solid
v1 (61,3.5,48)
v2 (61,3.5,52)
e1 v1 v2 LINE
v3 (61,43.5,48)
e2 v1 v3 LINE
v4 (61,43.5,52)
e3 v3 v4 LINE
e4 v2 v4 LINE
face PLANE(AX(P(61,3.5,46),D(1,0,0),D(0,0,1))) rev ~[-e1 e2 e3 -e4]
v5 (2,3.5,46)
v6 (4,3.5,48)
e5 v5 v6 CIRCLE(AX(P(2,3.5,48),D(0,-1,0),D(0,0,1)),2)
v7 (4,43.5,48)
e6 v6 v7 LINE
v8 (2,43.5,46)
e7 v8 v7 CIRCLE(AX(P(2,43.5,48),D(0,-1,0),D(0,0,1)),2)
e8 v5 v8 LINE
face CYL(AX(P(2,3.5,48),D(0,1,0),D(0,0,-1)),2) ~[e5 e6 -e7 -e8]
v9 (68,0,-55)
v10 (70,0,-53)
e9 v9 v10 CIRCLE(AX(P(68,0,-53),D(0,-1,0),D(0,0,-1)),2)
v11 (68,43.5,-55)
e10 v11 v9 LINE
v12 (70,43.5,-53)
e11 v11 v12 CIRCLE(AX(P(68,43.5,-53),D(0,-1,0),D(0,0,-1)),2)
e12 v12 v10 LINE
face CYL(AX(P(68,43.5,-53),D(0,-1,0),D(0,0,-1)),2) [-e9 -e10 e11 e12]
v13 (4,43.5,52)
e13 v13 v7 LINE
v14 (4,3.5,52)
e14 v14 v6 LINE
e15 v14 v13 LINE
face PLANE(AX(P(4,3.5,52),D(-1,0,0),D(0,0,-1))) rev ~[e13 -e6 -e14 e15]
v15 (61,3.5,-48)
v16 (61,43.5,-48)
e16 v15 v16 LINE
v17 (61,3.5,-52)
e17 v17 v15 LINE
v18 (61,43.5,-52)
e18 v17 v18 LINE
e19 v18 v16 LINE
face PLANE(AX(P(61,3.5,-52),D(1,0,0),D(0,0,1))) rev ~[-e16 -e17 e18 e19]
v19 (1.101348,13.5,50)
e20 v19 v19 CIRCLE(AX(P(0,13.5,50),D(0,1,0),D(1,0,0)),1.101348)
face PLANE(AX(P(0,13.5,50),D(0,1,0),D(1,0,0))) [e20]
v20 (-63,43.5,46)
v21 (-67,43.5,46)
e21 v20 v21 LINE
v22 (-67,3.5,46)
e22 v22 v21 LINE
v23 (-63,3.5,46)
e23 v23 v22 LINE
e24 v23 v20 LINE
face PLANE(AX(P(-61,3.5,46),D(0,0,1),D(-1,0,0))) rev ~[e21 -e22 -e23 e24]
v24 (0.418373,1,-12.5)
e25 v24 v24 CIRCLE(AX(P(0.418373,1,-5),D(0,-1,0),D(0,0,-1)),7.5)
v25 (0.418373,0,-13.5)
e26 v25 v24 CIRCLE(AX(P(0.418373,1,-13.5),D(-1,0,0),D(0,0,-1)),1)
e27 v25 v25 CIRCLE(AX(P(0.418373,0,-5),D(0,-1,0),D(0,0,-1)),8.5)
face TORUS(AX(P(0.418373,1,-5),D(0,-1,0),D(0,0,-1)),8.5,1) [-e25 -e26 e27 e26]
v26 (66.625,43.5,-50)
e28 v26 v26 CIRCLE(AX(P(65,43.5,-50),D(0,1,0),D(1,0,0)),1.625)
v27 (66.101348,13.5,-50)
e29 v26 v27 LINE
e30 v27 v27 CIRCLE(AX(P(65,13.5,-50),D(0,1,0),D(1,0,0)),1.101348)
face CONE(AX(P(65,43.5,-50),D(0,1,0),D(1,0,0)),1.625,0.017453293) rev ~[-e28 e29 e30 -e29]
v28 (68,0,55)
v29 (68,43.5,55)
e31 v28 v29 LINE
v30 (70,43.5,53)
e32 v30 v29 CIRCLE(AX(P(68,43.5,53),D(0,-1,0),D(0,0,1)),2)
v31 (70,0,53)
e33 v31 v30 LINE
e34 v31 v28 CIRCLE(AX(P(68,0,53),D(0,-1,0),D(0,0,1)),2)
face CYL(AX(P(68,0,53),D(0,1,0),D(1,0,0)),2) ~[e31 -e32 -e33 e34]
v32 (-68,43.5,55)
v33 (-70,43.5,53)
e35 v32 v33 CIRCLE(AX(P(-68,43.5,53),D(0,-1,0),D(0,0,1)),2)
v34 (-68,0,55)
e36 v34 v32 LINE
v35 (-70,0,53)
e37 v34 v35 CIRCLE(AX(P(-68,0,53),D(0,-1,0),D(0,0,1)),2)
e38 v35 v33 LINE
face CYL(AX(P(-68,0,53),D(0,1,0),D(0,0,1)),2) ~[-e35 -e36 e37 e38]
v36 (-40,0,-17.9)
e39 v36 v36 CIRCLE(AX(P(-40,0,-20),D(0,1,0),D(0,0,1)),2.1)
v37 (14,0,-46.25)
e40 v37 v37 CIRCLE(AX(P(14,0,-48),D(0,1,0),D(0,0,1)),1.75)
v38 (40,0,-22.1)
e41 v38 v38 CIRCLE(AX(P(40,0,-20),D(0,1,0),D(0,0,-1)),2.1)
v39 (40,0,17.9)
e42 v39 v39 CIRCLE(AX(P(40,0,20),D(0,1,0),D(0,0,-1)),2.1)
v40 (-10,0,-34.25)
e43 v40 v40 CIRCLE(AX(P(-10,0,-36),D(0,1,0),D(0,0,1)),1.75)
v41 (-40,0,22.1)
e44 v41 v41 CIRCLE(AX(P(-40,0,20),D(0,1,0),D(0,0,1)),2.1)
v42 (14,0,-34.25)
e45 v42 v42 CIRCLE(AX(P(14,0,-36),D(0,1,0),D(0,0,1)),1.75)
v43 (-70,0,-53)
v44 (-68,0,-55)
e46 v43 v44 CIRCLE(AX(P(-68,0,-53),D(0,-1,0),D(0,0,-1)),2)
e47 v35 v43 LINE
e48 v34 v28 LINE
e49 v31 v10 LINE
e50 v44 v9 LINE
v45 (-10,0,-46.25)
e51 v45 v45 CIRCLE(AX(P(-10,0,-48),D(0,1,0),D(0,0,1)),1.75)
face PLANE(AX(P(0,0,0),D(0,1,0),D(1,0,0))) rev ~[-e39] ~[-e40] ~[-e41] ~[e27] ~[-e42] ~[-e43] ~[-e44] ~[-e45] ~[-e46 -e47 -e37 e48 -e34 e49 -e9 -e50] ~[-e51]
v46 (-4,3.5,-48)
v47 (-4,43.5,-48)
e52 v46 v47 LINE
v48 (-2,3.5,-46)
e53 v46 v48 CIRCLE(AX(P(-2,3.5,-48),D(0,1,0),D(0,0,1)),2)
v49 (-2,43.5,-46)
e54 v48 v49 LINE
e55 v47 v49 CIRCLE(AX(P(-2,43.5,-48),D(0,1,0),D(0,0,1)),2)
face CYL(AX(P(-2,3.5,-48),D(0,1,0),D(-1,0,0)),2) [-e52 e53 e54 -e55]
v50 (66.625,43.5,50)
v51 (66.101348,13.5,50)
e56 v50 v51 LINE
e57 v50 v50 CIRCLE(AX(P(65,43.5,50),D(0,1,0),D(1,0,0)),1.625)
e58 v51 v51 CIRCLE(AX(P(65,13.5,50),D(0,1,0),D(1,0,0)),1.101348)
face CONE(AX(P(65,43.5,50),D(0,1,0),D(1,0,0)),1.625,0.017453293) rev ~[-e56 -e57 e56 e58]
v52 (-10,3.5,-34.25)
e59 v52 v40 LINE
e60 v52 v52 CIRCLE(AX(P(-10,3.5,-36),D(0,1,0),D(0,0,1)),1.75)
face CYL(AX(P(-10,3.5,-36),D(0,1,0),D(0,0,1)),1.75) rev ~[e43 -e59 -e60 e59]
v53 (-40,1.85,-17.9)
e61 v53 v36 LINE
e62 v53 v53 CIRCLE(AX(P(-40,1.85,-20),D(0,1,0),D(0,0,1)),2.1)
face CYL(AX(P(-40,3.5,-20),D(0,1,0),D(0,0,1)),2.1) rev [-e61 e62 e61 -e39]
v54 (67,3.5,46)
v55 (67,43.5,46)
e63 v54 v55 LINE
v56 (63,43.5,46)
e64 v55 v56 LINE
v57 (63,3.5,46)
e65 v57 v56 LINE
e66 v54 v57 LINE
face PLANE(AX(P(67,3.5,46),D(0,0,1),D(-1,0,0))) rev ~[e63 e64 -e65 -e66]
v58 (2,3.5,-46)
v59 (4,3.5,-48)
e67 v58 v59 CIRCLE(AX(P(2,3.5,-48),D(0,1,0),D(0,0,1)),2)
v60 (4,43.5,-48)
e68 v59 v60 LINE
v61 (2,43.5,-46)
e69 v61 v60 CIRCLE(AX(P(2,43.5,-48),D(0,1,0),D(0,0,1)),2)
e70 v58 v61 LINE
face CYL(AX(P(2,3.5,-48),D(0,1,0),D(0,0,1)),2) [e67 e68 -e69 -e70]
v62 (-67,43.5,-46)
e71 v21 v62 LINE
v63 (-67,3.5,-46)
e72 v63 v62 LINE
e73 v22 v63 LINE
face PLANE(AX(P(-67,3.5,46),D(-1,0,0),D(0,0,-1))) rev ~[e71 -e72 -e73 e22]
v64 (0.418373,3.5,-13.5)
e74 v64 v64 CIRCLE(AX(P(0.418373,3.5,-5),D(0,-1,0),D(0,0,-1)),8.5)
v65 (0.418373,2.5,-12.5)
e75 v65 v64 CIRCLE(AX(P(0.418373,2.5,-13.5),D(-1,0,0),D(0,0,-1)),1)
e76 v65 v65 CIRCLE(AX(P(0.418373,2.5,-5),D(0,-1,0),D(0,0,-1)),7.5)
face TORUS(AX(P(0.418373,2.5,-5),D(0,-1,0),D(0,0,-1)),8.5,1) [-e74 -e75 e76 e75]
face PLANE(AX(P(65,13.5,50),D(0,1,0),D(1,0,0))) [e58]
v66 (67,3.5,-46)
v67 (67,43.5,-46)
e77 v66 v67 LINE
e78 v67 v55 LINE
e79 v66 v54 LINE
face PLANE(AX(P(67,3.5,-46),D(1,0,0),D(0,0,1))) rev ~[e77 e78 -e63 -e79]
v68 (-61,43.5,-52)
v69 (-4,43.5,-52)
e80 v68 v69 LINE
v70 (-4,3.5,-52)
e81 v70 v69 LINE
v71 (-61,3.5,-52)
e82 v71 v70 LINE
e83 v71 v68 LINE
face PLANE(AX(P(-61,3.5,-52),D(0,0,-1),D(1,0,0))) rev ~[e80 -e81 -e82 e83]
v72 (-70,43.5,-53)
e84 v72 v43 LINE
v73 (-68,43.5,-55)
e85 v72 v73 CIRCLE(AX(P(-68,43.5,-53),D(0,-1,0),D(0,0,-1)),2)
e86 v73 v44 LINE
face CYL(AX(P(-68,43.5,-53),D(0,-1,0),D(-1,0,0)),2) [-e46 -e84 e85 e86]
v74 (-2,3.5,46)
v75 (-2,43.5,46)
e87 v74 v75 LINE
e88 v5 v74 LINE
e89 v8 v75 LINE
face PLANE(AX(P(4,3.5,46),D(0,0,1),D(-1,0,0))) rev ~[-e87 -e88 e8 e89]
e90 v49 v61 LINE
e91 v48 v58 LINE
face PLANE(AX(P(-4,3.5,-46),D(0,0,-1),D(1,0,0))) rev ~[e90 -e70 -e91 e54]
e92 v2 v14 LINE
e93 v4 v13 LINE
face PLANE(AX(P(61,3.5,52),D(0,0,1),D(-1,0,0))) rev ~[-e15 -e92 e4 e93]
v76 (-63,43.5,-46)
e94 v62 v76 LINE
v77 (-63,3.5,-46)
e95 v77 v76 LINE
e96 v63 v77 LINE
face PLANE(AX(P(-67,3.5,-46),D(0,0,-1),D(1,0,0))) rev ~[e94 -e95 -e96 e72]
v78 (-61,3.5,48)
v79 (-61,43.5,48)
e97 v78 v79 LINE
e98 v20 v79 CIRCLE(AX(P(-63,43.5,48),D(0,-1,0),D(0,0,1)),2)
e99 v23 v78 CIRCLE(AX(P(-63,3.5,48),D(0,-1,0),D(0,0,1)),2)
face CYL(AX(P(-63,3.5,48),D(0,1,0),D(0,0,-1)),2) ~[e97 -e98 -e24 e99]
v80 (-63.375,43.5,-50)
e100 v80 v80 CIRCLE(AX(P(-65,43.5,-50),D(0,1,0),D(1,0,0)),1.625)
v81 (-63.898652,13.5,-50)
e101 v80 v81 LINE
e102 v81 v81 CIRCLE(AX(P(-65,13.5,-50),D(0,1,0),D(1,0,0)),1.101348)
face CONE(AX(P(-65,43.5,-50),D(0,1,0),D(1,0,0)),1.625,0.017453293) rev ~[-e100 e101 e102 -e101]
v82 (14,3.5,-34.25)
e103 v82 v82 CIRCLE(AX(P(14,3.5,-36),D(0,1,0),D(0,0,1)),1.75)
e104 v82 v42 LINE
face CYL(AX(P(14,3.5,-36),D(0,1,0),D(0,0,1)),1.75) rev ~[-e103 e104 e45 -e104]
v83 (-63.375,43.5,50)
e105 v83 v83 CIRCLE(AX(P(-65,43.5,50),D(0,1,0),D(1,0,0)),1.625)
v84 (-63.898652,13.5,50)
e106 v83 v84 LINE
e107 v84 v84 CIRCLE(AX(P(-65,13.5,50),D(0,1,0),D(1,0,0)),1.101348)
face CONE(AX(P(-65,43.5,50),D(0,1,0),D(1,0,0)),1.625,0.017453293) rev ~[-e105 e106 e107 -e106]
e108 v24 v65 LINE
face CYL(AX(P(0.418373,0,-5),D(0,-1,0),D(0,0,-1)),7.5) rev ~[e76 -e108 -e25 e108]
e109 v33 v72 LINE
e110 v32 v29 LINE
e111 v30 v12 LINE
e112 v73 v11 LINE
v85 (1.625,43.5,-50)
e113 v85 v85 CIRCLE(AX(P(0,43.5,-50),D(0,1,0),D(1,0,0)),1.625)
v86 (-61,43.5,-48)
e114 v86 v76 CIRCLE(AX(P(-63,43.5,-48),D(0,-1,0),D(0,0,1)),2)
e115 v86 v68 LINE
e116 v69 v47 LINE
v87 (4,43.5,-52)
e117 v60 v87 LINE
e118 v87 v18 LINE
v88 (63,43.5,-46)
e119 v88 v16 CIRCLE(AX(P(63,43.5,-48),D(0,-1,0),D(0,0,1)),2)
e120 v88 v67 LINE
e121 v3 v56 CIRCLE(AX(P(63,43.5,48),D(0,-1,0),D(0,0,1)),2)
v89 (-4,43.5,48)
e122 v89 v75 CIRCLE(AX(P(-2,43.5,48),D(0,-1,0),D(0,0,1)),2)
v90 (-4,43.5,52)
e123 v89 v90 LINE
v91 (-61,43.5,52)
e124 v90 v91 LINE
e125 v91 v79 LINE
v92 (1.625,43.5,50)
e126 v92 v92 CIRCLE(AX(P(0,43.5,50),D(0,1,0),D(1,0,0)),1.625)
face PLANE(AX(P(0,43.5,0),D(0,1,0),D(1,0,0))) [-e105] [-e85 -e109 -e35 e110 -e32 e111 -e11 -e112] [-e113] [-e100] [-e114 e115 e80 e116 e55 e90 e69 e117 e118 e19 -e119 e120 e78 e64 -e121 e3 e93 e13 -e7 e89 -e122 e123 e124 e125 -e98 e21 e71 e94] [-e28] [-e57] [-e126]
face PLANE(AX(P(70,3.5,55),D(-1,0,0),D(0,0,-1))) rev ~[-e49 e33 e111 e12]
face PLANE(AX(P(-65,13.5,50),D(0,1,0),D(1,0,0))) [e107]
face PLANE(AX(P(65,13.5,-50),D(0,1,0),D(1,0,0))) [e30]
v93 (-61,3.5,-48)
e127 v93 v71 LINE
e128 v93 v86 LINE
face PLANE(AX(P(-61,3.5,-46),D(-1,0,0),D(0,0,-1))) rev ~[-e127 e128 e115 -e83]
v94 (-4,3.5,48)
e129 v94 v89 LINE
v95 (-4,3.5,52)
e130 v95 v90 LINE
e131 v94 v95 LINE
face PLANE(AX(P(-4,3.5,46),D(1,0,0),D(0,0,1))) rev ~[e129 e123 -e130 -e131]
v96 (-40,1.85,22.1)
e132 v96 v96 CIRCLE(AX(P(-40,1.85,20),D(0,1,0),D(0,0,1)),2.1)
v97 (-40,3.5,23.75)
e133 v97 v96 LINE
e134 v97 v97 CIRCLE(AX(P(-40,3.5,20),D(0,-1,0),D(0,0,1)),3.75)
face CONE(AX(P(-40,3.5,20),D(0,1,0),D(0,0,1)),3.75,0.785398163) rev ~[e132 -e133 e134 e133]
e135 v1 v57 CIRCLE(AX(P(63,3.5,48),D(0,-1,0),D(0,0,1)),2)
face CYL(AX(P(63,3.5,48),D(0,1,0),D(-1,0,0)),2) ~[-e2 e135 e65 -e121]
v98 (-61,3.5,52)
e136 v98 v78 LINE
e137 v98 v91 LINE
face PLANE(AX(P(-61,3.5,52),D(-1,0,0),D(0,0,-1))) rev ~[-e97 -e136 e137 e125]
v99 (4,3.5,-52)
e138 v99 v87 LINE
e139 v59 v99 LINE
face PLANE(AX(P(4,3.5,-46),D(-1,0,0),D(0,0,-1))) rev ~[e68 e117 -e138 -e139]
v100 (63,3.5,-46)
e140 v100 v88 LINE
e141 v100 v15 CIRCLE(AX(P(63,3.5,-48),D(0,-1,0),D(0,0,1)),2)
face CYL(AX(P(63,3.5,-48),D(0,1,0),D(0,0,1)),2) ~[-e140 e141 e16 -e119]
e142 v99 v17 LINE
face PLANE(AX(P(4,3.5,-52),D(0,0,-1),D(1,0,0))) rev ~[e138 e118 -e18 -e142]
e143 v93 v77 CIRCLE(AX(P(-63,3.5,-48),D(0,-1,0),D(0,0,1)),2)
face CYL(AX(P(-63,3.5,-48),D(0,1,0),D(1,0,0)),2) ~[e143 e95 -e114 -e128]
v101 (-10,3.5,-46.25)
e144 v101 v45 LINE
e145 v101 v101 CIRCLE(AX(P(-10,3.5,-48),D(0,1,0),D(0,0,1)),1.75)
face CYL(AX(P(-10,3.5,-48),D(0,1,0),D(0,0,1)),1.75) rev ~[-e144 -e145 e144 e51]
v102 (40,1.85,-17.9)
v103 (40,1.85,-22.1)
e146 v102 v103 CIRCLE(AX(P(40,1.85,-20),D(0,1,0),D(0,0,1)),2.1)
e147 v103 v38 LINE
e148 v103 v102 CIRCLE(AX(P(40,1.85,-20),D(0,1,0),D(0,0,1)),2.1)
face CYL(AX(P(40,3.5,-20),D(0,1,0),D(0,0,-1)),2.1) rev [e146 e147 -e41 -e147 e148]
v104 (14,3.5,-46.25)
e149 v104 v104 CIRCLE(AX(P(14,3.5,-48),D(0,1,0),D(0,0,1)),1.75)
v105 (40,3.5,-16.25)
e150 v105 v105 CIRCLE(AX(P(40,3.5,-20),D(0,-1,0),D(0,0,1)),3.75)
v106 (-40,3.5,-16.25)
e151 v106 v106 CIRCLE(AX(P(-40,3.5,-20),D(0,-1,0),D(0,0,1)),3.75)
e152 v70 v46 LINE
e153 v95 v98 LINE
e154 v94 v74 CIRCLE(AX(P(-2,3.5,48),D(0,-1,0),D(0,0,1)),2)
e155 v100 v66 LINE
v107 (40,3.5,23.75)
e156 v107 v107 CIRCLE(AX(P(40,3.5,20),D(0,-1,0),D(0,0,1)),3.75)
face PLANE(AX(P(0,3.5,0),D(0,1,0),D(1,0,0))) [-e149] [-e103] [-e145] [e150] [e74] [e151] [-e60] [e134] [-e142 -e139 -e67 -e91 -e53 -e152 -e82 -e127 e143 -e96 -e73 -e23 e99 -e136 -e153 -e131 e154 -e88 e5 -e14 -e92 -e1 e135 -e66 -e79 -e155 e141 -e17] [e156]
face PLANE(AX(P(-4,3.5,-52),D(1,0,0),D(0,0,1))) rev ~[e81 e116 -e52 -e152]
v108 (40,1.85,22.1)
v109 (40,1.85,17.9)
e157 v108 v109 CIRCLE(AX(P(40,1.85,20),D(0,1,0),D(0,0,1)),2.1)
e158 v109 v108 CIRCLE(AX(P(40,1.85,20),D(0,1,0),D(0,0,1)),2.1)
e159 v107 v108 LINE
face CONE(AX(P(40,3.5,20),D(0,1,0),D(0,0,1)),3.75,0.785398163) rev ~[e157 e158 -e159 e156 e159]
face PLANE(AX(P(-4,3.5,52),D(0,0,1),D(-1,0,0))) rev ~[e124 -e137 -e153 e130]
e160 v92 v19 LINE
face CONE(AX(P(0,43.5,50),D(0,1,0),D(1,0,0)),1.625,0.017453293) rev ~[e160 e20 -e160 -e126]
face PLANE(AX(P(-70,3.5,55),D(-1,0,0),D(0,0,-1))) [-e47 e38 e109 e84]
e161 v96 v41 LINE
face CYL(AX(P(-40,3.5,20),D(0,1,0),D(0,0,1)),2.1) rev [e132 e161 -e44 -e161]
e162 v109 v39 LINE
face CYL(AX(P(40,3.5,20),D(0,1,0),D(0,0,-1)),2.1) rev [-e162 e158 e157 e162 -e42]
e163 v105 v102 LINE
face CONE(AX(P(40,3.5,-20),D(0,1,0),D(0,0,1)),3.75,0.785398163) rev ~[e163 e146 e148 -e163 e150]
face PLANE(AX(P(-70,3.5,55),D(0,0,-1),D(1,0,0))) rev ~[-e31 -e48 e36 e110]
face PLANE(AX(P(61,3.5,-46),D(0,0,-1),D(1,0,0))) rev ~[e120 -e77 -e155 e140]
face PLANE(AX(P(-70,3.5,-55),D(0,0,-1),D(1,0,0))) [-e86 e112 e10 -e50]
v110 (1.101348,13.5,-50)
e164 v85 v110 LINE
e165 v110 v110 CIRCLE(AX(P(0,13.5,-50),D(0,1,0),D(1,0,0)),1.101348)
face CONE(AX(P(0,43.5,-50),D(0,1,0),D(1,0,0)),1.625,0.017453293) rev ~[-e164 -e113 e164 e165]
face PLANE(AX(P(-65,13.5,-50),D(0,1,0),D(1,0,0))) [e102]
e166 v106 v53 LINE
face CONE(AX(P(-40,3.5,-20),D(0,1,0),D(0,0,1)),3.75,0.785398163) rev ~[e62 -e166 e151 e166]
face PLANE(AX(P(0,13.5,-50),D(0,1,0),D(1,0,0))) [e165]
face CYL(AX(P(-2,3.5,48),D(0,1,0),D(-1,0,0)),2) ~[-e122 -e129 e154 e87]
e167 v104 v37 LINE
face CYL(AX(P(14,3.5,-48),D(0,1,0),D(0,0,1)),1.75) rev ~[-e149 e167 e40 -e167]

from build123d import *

# Parameters (mm, degrees)
SKETCH1_W                             = 140
SKETCH1_H                             = 110
BOTTOM_DEPTH                          = 3.5
SKETCH3_W                             = 140
SKETCH3_H                             = 110
WALL_DEPTH                            = 40
SKETCH4_R                             = 1.625
TOP_PLATE_SCREW_HOLES_DEPTH           = 30
TOP_PLATE_SCREW_HOLES_DRAFT           = -1
TOP_PLATE_SCREW_HOLES_PROFILE_2_DEPTH = 30
TOP_PLATE_SCREW_HOLES_PROFILE_2_DRAFT = -1
TOP_PLATE_SCREW_HOLES_PROFILE_3_DEPTH = 30
TOP_PLATE_SCREW_HOLES_PROFILE_3_DRAFT = -1
TOP_PLATE_SCREW_HOLES_PROFILE_4_DEPTH = 30
TOP_PLATE_SCREW_HOLES_PROFILE_4_DRAFT = -1
TOP_PLATE_SCREW_HOLES_PROFILE_5_DEPTH = 30
TOP_PLATE_SCREW_HOLES_PROFILE_5_DRAFT = -1
TOP_PLATE_SCREW_HOLES_PROFILE_6_DEPTH = 30
TOP_PLATE_SCREW_HOLES_PROFILE_6_DRAFT = -1
FILLET14_R                            = 2
FILLET13_R                            = 2
FILLET12_R                            = 2
FILLET11_R                            = 2
FILLET1_R                             = 2
FILLET2_R                             = 2
FILLET3_R                             = 2
FILLET4_R                             = 2
FILLET5_R                             = 2
FILLET6_R                             = 2
FILLET7_R                             = 2
FILLET8_R                             = 2
M4_MOUNT_R                            = 2.1
M4_MOUNT_CUT_DEPTH                    = 98.59610648
SKETCH7_R                             = 7.5
USB_CABEL_CUT_DEPTH                   = 100.082036717
FILLET9_R                             = 1
FILLET10_R                            = 1
SKETCH8_R                             = 1.75
CUT_EXTRUDE4_DEPTH                    = 10


with BuildPart() as part:
    # Sketch1 → Bottom (new body)
    with BuildSketch(Plane(origin=(0, 0, 0), x_dir=(1, 0, 0), z_dir=(0, 1, 0))):
        Rectangle(SKETCH1_W, SKETCH1_H)
    extrude(amount=BOTTOM_DEPTH)

    # Sketch3 → Wall (add)
    with BuildSketch(Plane(origin=(0, 3.5, 0), x_dir=(1, 0, 0), z_dir=(0, 1, 0))):
        Rectangle(SKETCH3_W, SKETCH3_H)
        Polygon((-61, 52), (-4, 52), (-4, 46), (4, 46), (4, 52), (61, 52), (61, 46), (67, 46), (67, -46), (61, -46), (61, -52), (4, -52), (4, -46), (-4, -46), (-4, -52), (-61, -52), (-61, -46), (-67, -46), (-67, 46), (-61, 46), align=None, mode=Mode.SUBTRACT)
    extrude(amount=WALL_DEPTH)


with BuildPart() as top_plate_screw_holes_tool:
    # Sketch4 → Top Plate Screw Holes (with draft: the straight prism first)
    with BuildSketch(Plane(origin=(0, 43.5, 0), x_dir=(1, 0, 0), z_dir=(0, 1, 0))):
        with Locations((-65, 50)):
            Circle(SKETCH4_R)
    extrude(amount=-TOP_PLATE_SCREW_HOLES_DEPTH)
    # Top Plate Screw Holes: the draft: its side faces are tilted about the plane it starts from
    top_plate_screw_holes_sides = [top_plate_screw_holes_tool.faces().sort_by_distance(p)[0] for p in [
        (-66.625, 28.5, -50),
    ]]
    draft(top_plate_screw_holes_sides, Plane(origin=(0, 43.5, 0), x_dir=(1, 0, 0), z_dir=(0, 1, 0)), TOP_PLATE_SCREW_HOLES_DRAFT)


with BuildPart() as part_1:
    add(part.part)

    # Top Plate Screw Holes: cut by top_plate_screw_holes_tool
    add(top_plate_screw_holes_tool.part, mode=Mode.SUBTRACT)


with BuildPart() as top_plate_screw_holes_profile_2_tool:
    # Sketch4 → Top Plate Screw Holes profile 2 (with draft: the straight prism first)
    with BuildSketch(Plane(origin=(0, 43.5, 0), x_dir=(1, 0, 0), z_dir=(0, 1, 0))):
        with Locations((65, 50)):
            Circle(SKETCH4_R)
    extrude(amount=-TOP_PLATE_SCREW_HOLES_PROFILE_2_DEPTH)
    # Top Plate Screw Holes profile 2: the draft: its side faces are tilted about the plane it starts from
    top_plate_screw_holes_profile_2_sides = [top_plate_screw_holes_profile_2_tool.faces().sort_by_distance(p)[0] for p in [
        (63.375, 28.5, -50),
    ]]
    draft(top_plate_screw_holes_profile_2_sides, Plane(origin=(0, 43.5, 0), x_dir=(1, 0, 0), z_dir=(0, 1, 0)), TOP_PLATE_SCREW_HOLES_PROFILE_2_DRAFT)


with BuildPart() as part_2:
    add(part_1.part)

    # Top Plate Screw Holes profile 2: cut by top_plate_screw_holes_profile_2_tool
    add(top_plate_screw_holes_profile_2_tool.part, mode=Mode.SUBTRACT)


with BuildPart() as top_plate_screw_holes_profile_3_tool:
    # Sketch4 → Top Plate Screw Holes profile 3 (with draft: the straight prism first)
    with BuildSketch(Plane(origin=(0, 43.5, 0), x_dir=(1, 0, 0), z_dir=(0, 1, 0))):
        with Locations((65, -50)):
            Circle(SKETCH4_R)
    extrude(amount=-TOP_PLATE_SCREW_HOLES_PROFILE_3_DEPTH)
    # Top Plate Screw Holes profile 3: the draft: its side faces are tilted about the plane it starts from
    top_plate_screw_holes_profile_3_sides = [top_plate_screw_holes_profile_3_tool.faces().sort_by_distance(p)[0] for p in [
        (63.375, 28.5, 50),
    ]]
    draft(top_plate_screw_holes_profile_3_sides, Plane(origin=(0, 43.5, 0), x_dir=(1, 0, 0), z_dir=(0, 1, 0)), TOP_PLATE_SCREW_HOLES_PROFILE_3_DRAFT)


with BuildPart() as part_3:
    add(part_2.part)

    # Top Plate Screw Holes profile 3: cut by top_plate_screw_holes_profile_3_tool
    add(top_plate_screw_holes_profile_3_tool.part, mode=Mode.SUBTRACT)


with BuildPart() as top_plate_screw_holes_profile_4_tool:
    # Sketch4 → Top Plate Screw Holes profile 4 (with draft: the straight prism first)
    with BuildSketch(Plane(origin=(0, 43.5, 0), x_dir=(1, 0, 0), z_dir=(0, 1, 0))):
        with Locations((-65, -50)):
            Circle(SKETCH4_R)
    extrude(amount=-TOP_PLATE_SCREW_HOLES_PROFILE_4_DEPTH)
    # Top Plate Screw Holes profile 4: the draft: its side faces are tilted about the plane it starts from
    top_plate_screw_holes_profile_4_sides = [top_plate_screw_holes_profile_4_tool.faces().sort_by_distance(p)[0] for p in [
        (-66.625, 28.5, 50),
    ]]
    draft(top_plate_screw_holes_profile_4_sides, Plane(origin=(0, 43.5, 0), x_dir=(1, 0, 0), z_dir=(0, 1, 0)), TOP_PLATE_SCREW_HOLES_PROFILE_4_DRAFT)


with BuildPart() as part_4:
    add(part_3.part)

    # Top Plate Screw Holes profile 4: cut by top_plate_screw_holes_profile_4_tool
    add(top_plate_screw_holes_profile_4_tool.part, mode=Mode.SUBTRACT)


with BuildPart() as top_plate_screw_holes_profile_5_tool:
    # Sketch4 → Top Plate Screw Holes profile 5 (with draft: the straight prism first)
    with BuildSketch(Plane(origin=(0, 43.5, 0), x_dir=(1, 0, 0), z_dir=(0, 1, 0))):
        with Locations((0, 50)):
            Circle(SKETCH4_R)
    extrude(amount=-TOP_PLATE_SCREW_HOLES_PROFILE_5_DEPTH)
    # Top Plate Screw Holes profile 5: the draft: its side faces are tilted about the plane it starts from
    top_plate_screw_holes_profile_5_sides = [top_plate_screw_holes_profile_5_tool.faces().sort_by_distance(p)[0] for p in [
        (-1.625, 28.5, -50),
    ]]
    draft(top_plate_screw_holes_profile_5_sides, Plane(origin=(0, 43.5, 0), x_dir=(1, 0, 0), z_dir=(0, 1, 0)), TOP_PLATE_SCREW_HOLES_PROFILE_5_DRAFT)


with BuildPart() as part_5:
    add(part_4.part)

    # Top Plate Screw Holes profile 5: cut by top_plate_screw_holes_profile_5_tool
    add(top_plate_screw_holes_profile_5_tool.part, mode=Mode.SUBTRACT)


with BuildPart() as top_plate_screw_holes_profile_6_tool:
    # Sketch4 → Top Plate Screw Holes profile 6 (with draft: the straight prism first)
    with BuildSketch(Plane(origin=(0, 43.5, 0), x_dir=(1, 0, 0), z_dir=(0, 1, 0))):
        with Locations((0, -50)):
            Circle(SKETCH4_R)
    extrude(amount=-TOP_PLATE_SCREW_HOLES_PROFILE_6_DEPTH)
    # Top Plate Screw Holes profile 6: the draft: its side faces are tilted about the plane it starts from
    top_plate_screw_holes_profile_6_sides = [top_plate_screw_holes_profile_6_tool.faces().sort_by_distance(p)[0] for p in [
        (-1.625, 28.5, 50),
    ]]
    draft(top_plate_screw_holes_profile_6_sides, Plane(origin=(0, 43.5, 0), x_dir=(1, 0, 0), z_dir=(0, 1, 0)), TOP_PLATE_SCREW_HOLES_PROFILE_6_DRAFT)


with BuildPart() as part_6:
    add(part_5.part)

    # Top Plate Screw Holes profile 6: cut by top_plate_screw_holes_profile_6_tool
    add(top_plate_screw_holes_profile_6_tool.part, mode=Mode.SUBTRACT)

    # Fillet14
    fillet14_edges = [part_6.edges().sort_by_distance(p)[0] for p in [
        (-4, 23.5, 46),
    ]]
    fillet(fillet14_edges, radius=FILLET14_R)

    # Fillet13
    fillet13_edges = [part_6.edges().sort_by_distance(p)[0] for p in [
        (4, 23.5, 46),
    ]]
    fillet(fillet13_edges, radius=FILLET13_R)

    # Fillet12
    fillet12_edges = [part_6.edges().sort_by_distance(p)[0] for p in [
        (-4, 23.5, -46),
    ]]
    fillet(fillet12_edges, radius=FILLET12_R)

    # Fillet11
    fillet11_edges = [part_6.edges().sort_by_distance(p)[0] for p in [
        (4, 23.5, -46),
    ]]
    fillet(fillet11_edges, radius=FILLET11_R)

    # Fillet1
    fillet1_edges = [part_6.edges().sort_by_distance(p)[0] for p in [
        (-61, 23.5, 46),
    ]]
    fillet(fillet1_edges, radius=FILLET1_R)

    # Fillet2
    fillet2_edges = [part_6.edges().sort_by_distance(p)[0] for p in [
        (61, 23.5, 46),
    ]]
    fillet(fillet2_edges, radius=FILLET2_R)

    # Fillet3
    fillet3_edges = [part_6.edges().sort_by_distance(p)[0] for p in [
        (61, 23.5, -46),
    ]]
    fillet(fillet3_edges, radius=FILLET3_R)

    # Fillet4
    fillet4_edges = [part_6.edges().sort_by_distance(p)[0] for p in [
        (-61, 23.5, -46),
    ]]
    fillet(fillet4_edges, radius=FILLET4_R)

    # Fillet5
    fillet5_edges = [part_6.edges().sort_by_distance(p)[0] for p in [
        (-70, 21.75, -55),
    ]]
    fillet(fillet5_edges, radius=FILLET5_R)

    # Fillet6
    fillet6_edges = [part_6.edges().sort_by_distance(p)[0] for p in [
        (70, 21.75, -55),
    ]]
    fillet(fillet6_edges, radius=FILLET6_R)

    # Fillet7
    fillet7_edges = [part_6.edges().sort_by_distance(p)[0] for p in [
        (70, 21.75, 55),
    ]]
    fillet(fillet7_edges, radius=FILLET7_R)

    # Fillet8
    fillet8_edges = [part_6.edges().sort_by_distance(p)[0] for p in [
        (-70, 21.75, 55),
    ]]
    fillet(fillet8_edges, radius=FILLET8_R)

    # M4 Mount → M4 Mount Cut (cut, through all)
    with BuildSketch(Plane.XZ.offset(-3.5)):
        with Locations(Location((40, -20, 0), (0, 0, 270))):
            Circle(M4_MOUNT_R)
        with Locations(Location((40, 20, 0), (0, 0, 270))):
            Circle(M4_MOUNT_R)
        with Locations(Location((-40, 20, 0), (0, 0, 90))):
            Circle(M4_MOUNT_R)
        with Locations(Location((-40, -20, 0), (0, 0, 90))):
            Circle(M4_MOUNT_R)
    extrude(amount=M4_MOUNT_CUT_DEPTH, mode=Mode.SUBTRACT)

    # Cut-Extrude3 cone 1 section (through the dimple's axis) → Cut-Extrude3 (revolve, cut)
    with BuildSketch(Plane(origin=(40, 3.5, 20), x_dir=(0, 0, 1), z_dir=(1, 0, 0))):
        Polygon((0, 0), (3.75, 0), (0, 3.75), align=None)
    revolve(axis=Axis((40, 3.5, 20), (0, -1, 0)), mode=Mode.SUBTRACT)

    # Cut-Extrude3 cone 2 section (through the dimple's axis) → Cut-Extrude3 cone 2 (revolve, cut)
    with BuildSketch(Plane(origin=(40, 3.5, -20), x_dir=(0, 0, 1), z_dir=(1, 0, 0))):
        Polygon((0, 0), (3.75, 0), (0, 3.75), align=None)
    revolve(axis=Axis((40, 3.5, -20), (0, -1, 0)), mode=Mode.SUBTRACT)

    # Cut-Extrude3 cone 3 section (through the dimple's axis) → Cut-Extrude3 cone 3 (revolve, cut)
    with BuildSketch(Plane(origin=(-40, 3.5, -20), x_dir=(0, 0, 1), z_dir=(1, 0, 0))):
        Polygon((0, 0), (3.75, 0), (0, 3.75), align=None)
    revolve(axis=Axis((-40, 3.5, -20), (0, -1, 0)), mode=Mode.SUBTRACT)

    # Cut-Extrude3 cone 4 section (through the dimple's axis) → Cut-Extrude3 cone 4 (revolve, cut)
    with BuildSketch(Plane(origin=(-40, 3.5, 20), x_dir=(0, 0, 1), z_dir=(1, 0, 0))):
        Polygon((0, 0), (3.75, 0), (0, 3.75), align=None)
    revolve(axis=Axis((-40, 3.5, 20), (0, -1, 0)), mode=Mode.SUBTRACT)

    # Sketch7 → USB Cabel Cut (cut, through all)
    with BuildSketch(Plane.XZ):
        with Locations(Location((0.418373374, -5, 0), (0, 0, 270))):
            Circle(SKETCH7_R)
    extrude(amount=-USB_CABEL_CUT_DEPTH, mode=Mode.SUBTRACT)

    # Fillet9
    fillet9_edges = [part_6.edges().sort_by_distance(p)[0] for p in [
        (0.418373374, 0, 2.5),
    ]]
    fillet(fillet9_edges, radius=FILLET9_R)

    # Fillet10
    fillet10_edges = [part_6.edges().sort_by_distance(p)[0] for p in [
        (0.418373374, 3.5, 2.5),
    ]]
    fillet(fillet10_edges, radius=FILLET10_R)

    # Sketch8 → Cut-Extrude4 (cut)
    with BuildSketch(Plane(origin=(0, 3.5, 0), x_dir=(1, 0, 0), z_dir=(0, 1, 0))):
        with Locations(Location((-10, 48, 0), (0, 0, 270))):
            Circle(SKETCH8_R)
        with Locations(Location((-10, 36, 0), (0, 0, 270))):
            Circle(SKETCH8_R)
        with Locations(Location((14, 48, 0), (0, 0, 270))):
            Circle(SKETCH8_R)
        with Locations(Location((14, 36, 0), (0, 0, 270))):
            Circle(SKETCH8_R)
    extrude(amount=-CUT_EXTRUDE4_DEPTH, mode=Mode.SUBTRACT)


solid = part_6.part
